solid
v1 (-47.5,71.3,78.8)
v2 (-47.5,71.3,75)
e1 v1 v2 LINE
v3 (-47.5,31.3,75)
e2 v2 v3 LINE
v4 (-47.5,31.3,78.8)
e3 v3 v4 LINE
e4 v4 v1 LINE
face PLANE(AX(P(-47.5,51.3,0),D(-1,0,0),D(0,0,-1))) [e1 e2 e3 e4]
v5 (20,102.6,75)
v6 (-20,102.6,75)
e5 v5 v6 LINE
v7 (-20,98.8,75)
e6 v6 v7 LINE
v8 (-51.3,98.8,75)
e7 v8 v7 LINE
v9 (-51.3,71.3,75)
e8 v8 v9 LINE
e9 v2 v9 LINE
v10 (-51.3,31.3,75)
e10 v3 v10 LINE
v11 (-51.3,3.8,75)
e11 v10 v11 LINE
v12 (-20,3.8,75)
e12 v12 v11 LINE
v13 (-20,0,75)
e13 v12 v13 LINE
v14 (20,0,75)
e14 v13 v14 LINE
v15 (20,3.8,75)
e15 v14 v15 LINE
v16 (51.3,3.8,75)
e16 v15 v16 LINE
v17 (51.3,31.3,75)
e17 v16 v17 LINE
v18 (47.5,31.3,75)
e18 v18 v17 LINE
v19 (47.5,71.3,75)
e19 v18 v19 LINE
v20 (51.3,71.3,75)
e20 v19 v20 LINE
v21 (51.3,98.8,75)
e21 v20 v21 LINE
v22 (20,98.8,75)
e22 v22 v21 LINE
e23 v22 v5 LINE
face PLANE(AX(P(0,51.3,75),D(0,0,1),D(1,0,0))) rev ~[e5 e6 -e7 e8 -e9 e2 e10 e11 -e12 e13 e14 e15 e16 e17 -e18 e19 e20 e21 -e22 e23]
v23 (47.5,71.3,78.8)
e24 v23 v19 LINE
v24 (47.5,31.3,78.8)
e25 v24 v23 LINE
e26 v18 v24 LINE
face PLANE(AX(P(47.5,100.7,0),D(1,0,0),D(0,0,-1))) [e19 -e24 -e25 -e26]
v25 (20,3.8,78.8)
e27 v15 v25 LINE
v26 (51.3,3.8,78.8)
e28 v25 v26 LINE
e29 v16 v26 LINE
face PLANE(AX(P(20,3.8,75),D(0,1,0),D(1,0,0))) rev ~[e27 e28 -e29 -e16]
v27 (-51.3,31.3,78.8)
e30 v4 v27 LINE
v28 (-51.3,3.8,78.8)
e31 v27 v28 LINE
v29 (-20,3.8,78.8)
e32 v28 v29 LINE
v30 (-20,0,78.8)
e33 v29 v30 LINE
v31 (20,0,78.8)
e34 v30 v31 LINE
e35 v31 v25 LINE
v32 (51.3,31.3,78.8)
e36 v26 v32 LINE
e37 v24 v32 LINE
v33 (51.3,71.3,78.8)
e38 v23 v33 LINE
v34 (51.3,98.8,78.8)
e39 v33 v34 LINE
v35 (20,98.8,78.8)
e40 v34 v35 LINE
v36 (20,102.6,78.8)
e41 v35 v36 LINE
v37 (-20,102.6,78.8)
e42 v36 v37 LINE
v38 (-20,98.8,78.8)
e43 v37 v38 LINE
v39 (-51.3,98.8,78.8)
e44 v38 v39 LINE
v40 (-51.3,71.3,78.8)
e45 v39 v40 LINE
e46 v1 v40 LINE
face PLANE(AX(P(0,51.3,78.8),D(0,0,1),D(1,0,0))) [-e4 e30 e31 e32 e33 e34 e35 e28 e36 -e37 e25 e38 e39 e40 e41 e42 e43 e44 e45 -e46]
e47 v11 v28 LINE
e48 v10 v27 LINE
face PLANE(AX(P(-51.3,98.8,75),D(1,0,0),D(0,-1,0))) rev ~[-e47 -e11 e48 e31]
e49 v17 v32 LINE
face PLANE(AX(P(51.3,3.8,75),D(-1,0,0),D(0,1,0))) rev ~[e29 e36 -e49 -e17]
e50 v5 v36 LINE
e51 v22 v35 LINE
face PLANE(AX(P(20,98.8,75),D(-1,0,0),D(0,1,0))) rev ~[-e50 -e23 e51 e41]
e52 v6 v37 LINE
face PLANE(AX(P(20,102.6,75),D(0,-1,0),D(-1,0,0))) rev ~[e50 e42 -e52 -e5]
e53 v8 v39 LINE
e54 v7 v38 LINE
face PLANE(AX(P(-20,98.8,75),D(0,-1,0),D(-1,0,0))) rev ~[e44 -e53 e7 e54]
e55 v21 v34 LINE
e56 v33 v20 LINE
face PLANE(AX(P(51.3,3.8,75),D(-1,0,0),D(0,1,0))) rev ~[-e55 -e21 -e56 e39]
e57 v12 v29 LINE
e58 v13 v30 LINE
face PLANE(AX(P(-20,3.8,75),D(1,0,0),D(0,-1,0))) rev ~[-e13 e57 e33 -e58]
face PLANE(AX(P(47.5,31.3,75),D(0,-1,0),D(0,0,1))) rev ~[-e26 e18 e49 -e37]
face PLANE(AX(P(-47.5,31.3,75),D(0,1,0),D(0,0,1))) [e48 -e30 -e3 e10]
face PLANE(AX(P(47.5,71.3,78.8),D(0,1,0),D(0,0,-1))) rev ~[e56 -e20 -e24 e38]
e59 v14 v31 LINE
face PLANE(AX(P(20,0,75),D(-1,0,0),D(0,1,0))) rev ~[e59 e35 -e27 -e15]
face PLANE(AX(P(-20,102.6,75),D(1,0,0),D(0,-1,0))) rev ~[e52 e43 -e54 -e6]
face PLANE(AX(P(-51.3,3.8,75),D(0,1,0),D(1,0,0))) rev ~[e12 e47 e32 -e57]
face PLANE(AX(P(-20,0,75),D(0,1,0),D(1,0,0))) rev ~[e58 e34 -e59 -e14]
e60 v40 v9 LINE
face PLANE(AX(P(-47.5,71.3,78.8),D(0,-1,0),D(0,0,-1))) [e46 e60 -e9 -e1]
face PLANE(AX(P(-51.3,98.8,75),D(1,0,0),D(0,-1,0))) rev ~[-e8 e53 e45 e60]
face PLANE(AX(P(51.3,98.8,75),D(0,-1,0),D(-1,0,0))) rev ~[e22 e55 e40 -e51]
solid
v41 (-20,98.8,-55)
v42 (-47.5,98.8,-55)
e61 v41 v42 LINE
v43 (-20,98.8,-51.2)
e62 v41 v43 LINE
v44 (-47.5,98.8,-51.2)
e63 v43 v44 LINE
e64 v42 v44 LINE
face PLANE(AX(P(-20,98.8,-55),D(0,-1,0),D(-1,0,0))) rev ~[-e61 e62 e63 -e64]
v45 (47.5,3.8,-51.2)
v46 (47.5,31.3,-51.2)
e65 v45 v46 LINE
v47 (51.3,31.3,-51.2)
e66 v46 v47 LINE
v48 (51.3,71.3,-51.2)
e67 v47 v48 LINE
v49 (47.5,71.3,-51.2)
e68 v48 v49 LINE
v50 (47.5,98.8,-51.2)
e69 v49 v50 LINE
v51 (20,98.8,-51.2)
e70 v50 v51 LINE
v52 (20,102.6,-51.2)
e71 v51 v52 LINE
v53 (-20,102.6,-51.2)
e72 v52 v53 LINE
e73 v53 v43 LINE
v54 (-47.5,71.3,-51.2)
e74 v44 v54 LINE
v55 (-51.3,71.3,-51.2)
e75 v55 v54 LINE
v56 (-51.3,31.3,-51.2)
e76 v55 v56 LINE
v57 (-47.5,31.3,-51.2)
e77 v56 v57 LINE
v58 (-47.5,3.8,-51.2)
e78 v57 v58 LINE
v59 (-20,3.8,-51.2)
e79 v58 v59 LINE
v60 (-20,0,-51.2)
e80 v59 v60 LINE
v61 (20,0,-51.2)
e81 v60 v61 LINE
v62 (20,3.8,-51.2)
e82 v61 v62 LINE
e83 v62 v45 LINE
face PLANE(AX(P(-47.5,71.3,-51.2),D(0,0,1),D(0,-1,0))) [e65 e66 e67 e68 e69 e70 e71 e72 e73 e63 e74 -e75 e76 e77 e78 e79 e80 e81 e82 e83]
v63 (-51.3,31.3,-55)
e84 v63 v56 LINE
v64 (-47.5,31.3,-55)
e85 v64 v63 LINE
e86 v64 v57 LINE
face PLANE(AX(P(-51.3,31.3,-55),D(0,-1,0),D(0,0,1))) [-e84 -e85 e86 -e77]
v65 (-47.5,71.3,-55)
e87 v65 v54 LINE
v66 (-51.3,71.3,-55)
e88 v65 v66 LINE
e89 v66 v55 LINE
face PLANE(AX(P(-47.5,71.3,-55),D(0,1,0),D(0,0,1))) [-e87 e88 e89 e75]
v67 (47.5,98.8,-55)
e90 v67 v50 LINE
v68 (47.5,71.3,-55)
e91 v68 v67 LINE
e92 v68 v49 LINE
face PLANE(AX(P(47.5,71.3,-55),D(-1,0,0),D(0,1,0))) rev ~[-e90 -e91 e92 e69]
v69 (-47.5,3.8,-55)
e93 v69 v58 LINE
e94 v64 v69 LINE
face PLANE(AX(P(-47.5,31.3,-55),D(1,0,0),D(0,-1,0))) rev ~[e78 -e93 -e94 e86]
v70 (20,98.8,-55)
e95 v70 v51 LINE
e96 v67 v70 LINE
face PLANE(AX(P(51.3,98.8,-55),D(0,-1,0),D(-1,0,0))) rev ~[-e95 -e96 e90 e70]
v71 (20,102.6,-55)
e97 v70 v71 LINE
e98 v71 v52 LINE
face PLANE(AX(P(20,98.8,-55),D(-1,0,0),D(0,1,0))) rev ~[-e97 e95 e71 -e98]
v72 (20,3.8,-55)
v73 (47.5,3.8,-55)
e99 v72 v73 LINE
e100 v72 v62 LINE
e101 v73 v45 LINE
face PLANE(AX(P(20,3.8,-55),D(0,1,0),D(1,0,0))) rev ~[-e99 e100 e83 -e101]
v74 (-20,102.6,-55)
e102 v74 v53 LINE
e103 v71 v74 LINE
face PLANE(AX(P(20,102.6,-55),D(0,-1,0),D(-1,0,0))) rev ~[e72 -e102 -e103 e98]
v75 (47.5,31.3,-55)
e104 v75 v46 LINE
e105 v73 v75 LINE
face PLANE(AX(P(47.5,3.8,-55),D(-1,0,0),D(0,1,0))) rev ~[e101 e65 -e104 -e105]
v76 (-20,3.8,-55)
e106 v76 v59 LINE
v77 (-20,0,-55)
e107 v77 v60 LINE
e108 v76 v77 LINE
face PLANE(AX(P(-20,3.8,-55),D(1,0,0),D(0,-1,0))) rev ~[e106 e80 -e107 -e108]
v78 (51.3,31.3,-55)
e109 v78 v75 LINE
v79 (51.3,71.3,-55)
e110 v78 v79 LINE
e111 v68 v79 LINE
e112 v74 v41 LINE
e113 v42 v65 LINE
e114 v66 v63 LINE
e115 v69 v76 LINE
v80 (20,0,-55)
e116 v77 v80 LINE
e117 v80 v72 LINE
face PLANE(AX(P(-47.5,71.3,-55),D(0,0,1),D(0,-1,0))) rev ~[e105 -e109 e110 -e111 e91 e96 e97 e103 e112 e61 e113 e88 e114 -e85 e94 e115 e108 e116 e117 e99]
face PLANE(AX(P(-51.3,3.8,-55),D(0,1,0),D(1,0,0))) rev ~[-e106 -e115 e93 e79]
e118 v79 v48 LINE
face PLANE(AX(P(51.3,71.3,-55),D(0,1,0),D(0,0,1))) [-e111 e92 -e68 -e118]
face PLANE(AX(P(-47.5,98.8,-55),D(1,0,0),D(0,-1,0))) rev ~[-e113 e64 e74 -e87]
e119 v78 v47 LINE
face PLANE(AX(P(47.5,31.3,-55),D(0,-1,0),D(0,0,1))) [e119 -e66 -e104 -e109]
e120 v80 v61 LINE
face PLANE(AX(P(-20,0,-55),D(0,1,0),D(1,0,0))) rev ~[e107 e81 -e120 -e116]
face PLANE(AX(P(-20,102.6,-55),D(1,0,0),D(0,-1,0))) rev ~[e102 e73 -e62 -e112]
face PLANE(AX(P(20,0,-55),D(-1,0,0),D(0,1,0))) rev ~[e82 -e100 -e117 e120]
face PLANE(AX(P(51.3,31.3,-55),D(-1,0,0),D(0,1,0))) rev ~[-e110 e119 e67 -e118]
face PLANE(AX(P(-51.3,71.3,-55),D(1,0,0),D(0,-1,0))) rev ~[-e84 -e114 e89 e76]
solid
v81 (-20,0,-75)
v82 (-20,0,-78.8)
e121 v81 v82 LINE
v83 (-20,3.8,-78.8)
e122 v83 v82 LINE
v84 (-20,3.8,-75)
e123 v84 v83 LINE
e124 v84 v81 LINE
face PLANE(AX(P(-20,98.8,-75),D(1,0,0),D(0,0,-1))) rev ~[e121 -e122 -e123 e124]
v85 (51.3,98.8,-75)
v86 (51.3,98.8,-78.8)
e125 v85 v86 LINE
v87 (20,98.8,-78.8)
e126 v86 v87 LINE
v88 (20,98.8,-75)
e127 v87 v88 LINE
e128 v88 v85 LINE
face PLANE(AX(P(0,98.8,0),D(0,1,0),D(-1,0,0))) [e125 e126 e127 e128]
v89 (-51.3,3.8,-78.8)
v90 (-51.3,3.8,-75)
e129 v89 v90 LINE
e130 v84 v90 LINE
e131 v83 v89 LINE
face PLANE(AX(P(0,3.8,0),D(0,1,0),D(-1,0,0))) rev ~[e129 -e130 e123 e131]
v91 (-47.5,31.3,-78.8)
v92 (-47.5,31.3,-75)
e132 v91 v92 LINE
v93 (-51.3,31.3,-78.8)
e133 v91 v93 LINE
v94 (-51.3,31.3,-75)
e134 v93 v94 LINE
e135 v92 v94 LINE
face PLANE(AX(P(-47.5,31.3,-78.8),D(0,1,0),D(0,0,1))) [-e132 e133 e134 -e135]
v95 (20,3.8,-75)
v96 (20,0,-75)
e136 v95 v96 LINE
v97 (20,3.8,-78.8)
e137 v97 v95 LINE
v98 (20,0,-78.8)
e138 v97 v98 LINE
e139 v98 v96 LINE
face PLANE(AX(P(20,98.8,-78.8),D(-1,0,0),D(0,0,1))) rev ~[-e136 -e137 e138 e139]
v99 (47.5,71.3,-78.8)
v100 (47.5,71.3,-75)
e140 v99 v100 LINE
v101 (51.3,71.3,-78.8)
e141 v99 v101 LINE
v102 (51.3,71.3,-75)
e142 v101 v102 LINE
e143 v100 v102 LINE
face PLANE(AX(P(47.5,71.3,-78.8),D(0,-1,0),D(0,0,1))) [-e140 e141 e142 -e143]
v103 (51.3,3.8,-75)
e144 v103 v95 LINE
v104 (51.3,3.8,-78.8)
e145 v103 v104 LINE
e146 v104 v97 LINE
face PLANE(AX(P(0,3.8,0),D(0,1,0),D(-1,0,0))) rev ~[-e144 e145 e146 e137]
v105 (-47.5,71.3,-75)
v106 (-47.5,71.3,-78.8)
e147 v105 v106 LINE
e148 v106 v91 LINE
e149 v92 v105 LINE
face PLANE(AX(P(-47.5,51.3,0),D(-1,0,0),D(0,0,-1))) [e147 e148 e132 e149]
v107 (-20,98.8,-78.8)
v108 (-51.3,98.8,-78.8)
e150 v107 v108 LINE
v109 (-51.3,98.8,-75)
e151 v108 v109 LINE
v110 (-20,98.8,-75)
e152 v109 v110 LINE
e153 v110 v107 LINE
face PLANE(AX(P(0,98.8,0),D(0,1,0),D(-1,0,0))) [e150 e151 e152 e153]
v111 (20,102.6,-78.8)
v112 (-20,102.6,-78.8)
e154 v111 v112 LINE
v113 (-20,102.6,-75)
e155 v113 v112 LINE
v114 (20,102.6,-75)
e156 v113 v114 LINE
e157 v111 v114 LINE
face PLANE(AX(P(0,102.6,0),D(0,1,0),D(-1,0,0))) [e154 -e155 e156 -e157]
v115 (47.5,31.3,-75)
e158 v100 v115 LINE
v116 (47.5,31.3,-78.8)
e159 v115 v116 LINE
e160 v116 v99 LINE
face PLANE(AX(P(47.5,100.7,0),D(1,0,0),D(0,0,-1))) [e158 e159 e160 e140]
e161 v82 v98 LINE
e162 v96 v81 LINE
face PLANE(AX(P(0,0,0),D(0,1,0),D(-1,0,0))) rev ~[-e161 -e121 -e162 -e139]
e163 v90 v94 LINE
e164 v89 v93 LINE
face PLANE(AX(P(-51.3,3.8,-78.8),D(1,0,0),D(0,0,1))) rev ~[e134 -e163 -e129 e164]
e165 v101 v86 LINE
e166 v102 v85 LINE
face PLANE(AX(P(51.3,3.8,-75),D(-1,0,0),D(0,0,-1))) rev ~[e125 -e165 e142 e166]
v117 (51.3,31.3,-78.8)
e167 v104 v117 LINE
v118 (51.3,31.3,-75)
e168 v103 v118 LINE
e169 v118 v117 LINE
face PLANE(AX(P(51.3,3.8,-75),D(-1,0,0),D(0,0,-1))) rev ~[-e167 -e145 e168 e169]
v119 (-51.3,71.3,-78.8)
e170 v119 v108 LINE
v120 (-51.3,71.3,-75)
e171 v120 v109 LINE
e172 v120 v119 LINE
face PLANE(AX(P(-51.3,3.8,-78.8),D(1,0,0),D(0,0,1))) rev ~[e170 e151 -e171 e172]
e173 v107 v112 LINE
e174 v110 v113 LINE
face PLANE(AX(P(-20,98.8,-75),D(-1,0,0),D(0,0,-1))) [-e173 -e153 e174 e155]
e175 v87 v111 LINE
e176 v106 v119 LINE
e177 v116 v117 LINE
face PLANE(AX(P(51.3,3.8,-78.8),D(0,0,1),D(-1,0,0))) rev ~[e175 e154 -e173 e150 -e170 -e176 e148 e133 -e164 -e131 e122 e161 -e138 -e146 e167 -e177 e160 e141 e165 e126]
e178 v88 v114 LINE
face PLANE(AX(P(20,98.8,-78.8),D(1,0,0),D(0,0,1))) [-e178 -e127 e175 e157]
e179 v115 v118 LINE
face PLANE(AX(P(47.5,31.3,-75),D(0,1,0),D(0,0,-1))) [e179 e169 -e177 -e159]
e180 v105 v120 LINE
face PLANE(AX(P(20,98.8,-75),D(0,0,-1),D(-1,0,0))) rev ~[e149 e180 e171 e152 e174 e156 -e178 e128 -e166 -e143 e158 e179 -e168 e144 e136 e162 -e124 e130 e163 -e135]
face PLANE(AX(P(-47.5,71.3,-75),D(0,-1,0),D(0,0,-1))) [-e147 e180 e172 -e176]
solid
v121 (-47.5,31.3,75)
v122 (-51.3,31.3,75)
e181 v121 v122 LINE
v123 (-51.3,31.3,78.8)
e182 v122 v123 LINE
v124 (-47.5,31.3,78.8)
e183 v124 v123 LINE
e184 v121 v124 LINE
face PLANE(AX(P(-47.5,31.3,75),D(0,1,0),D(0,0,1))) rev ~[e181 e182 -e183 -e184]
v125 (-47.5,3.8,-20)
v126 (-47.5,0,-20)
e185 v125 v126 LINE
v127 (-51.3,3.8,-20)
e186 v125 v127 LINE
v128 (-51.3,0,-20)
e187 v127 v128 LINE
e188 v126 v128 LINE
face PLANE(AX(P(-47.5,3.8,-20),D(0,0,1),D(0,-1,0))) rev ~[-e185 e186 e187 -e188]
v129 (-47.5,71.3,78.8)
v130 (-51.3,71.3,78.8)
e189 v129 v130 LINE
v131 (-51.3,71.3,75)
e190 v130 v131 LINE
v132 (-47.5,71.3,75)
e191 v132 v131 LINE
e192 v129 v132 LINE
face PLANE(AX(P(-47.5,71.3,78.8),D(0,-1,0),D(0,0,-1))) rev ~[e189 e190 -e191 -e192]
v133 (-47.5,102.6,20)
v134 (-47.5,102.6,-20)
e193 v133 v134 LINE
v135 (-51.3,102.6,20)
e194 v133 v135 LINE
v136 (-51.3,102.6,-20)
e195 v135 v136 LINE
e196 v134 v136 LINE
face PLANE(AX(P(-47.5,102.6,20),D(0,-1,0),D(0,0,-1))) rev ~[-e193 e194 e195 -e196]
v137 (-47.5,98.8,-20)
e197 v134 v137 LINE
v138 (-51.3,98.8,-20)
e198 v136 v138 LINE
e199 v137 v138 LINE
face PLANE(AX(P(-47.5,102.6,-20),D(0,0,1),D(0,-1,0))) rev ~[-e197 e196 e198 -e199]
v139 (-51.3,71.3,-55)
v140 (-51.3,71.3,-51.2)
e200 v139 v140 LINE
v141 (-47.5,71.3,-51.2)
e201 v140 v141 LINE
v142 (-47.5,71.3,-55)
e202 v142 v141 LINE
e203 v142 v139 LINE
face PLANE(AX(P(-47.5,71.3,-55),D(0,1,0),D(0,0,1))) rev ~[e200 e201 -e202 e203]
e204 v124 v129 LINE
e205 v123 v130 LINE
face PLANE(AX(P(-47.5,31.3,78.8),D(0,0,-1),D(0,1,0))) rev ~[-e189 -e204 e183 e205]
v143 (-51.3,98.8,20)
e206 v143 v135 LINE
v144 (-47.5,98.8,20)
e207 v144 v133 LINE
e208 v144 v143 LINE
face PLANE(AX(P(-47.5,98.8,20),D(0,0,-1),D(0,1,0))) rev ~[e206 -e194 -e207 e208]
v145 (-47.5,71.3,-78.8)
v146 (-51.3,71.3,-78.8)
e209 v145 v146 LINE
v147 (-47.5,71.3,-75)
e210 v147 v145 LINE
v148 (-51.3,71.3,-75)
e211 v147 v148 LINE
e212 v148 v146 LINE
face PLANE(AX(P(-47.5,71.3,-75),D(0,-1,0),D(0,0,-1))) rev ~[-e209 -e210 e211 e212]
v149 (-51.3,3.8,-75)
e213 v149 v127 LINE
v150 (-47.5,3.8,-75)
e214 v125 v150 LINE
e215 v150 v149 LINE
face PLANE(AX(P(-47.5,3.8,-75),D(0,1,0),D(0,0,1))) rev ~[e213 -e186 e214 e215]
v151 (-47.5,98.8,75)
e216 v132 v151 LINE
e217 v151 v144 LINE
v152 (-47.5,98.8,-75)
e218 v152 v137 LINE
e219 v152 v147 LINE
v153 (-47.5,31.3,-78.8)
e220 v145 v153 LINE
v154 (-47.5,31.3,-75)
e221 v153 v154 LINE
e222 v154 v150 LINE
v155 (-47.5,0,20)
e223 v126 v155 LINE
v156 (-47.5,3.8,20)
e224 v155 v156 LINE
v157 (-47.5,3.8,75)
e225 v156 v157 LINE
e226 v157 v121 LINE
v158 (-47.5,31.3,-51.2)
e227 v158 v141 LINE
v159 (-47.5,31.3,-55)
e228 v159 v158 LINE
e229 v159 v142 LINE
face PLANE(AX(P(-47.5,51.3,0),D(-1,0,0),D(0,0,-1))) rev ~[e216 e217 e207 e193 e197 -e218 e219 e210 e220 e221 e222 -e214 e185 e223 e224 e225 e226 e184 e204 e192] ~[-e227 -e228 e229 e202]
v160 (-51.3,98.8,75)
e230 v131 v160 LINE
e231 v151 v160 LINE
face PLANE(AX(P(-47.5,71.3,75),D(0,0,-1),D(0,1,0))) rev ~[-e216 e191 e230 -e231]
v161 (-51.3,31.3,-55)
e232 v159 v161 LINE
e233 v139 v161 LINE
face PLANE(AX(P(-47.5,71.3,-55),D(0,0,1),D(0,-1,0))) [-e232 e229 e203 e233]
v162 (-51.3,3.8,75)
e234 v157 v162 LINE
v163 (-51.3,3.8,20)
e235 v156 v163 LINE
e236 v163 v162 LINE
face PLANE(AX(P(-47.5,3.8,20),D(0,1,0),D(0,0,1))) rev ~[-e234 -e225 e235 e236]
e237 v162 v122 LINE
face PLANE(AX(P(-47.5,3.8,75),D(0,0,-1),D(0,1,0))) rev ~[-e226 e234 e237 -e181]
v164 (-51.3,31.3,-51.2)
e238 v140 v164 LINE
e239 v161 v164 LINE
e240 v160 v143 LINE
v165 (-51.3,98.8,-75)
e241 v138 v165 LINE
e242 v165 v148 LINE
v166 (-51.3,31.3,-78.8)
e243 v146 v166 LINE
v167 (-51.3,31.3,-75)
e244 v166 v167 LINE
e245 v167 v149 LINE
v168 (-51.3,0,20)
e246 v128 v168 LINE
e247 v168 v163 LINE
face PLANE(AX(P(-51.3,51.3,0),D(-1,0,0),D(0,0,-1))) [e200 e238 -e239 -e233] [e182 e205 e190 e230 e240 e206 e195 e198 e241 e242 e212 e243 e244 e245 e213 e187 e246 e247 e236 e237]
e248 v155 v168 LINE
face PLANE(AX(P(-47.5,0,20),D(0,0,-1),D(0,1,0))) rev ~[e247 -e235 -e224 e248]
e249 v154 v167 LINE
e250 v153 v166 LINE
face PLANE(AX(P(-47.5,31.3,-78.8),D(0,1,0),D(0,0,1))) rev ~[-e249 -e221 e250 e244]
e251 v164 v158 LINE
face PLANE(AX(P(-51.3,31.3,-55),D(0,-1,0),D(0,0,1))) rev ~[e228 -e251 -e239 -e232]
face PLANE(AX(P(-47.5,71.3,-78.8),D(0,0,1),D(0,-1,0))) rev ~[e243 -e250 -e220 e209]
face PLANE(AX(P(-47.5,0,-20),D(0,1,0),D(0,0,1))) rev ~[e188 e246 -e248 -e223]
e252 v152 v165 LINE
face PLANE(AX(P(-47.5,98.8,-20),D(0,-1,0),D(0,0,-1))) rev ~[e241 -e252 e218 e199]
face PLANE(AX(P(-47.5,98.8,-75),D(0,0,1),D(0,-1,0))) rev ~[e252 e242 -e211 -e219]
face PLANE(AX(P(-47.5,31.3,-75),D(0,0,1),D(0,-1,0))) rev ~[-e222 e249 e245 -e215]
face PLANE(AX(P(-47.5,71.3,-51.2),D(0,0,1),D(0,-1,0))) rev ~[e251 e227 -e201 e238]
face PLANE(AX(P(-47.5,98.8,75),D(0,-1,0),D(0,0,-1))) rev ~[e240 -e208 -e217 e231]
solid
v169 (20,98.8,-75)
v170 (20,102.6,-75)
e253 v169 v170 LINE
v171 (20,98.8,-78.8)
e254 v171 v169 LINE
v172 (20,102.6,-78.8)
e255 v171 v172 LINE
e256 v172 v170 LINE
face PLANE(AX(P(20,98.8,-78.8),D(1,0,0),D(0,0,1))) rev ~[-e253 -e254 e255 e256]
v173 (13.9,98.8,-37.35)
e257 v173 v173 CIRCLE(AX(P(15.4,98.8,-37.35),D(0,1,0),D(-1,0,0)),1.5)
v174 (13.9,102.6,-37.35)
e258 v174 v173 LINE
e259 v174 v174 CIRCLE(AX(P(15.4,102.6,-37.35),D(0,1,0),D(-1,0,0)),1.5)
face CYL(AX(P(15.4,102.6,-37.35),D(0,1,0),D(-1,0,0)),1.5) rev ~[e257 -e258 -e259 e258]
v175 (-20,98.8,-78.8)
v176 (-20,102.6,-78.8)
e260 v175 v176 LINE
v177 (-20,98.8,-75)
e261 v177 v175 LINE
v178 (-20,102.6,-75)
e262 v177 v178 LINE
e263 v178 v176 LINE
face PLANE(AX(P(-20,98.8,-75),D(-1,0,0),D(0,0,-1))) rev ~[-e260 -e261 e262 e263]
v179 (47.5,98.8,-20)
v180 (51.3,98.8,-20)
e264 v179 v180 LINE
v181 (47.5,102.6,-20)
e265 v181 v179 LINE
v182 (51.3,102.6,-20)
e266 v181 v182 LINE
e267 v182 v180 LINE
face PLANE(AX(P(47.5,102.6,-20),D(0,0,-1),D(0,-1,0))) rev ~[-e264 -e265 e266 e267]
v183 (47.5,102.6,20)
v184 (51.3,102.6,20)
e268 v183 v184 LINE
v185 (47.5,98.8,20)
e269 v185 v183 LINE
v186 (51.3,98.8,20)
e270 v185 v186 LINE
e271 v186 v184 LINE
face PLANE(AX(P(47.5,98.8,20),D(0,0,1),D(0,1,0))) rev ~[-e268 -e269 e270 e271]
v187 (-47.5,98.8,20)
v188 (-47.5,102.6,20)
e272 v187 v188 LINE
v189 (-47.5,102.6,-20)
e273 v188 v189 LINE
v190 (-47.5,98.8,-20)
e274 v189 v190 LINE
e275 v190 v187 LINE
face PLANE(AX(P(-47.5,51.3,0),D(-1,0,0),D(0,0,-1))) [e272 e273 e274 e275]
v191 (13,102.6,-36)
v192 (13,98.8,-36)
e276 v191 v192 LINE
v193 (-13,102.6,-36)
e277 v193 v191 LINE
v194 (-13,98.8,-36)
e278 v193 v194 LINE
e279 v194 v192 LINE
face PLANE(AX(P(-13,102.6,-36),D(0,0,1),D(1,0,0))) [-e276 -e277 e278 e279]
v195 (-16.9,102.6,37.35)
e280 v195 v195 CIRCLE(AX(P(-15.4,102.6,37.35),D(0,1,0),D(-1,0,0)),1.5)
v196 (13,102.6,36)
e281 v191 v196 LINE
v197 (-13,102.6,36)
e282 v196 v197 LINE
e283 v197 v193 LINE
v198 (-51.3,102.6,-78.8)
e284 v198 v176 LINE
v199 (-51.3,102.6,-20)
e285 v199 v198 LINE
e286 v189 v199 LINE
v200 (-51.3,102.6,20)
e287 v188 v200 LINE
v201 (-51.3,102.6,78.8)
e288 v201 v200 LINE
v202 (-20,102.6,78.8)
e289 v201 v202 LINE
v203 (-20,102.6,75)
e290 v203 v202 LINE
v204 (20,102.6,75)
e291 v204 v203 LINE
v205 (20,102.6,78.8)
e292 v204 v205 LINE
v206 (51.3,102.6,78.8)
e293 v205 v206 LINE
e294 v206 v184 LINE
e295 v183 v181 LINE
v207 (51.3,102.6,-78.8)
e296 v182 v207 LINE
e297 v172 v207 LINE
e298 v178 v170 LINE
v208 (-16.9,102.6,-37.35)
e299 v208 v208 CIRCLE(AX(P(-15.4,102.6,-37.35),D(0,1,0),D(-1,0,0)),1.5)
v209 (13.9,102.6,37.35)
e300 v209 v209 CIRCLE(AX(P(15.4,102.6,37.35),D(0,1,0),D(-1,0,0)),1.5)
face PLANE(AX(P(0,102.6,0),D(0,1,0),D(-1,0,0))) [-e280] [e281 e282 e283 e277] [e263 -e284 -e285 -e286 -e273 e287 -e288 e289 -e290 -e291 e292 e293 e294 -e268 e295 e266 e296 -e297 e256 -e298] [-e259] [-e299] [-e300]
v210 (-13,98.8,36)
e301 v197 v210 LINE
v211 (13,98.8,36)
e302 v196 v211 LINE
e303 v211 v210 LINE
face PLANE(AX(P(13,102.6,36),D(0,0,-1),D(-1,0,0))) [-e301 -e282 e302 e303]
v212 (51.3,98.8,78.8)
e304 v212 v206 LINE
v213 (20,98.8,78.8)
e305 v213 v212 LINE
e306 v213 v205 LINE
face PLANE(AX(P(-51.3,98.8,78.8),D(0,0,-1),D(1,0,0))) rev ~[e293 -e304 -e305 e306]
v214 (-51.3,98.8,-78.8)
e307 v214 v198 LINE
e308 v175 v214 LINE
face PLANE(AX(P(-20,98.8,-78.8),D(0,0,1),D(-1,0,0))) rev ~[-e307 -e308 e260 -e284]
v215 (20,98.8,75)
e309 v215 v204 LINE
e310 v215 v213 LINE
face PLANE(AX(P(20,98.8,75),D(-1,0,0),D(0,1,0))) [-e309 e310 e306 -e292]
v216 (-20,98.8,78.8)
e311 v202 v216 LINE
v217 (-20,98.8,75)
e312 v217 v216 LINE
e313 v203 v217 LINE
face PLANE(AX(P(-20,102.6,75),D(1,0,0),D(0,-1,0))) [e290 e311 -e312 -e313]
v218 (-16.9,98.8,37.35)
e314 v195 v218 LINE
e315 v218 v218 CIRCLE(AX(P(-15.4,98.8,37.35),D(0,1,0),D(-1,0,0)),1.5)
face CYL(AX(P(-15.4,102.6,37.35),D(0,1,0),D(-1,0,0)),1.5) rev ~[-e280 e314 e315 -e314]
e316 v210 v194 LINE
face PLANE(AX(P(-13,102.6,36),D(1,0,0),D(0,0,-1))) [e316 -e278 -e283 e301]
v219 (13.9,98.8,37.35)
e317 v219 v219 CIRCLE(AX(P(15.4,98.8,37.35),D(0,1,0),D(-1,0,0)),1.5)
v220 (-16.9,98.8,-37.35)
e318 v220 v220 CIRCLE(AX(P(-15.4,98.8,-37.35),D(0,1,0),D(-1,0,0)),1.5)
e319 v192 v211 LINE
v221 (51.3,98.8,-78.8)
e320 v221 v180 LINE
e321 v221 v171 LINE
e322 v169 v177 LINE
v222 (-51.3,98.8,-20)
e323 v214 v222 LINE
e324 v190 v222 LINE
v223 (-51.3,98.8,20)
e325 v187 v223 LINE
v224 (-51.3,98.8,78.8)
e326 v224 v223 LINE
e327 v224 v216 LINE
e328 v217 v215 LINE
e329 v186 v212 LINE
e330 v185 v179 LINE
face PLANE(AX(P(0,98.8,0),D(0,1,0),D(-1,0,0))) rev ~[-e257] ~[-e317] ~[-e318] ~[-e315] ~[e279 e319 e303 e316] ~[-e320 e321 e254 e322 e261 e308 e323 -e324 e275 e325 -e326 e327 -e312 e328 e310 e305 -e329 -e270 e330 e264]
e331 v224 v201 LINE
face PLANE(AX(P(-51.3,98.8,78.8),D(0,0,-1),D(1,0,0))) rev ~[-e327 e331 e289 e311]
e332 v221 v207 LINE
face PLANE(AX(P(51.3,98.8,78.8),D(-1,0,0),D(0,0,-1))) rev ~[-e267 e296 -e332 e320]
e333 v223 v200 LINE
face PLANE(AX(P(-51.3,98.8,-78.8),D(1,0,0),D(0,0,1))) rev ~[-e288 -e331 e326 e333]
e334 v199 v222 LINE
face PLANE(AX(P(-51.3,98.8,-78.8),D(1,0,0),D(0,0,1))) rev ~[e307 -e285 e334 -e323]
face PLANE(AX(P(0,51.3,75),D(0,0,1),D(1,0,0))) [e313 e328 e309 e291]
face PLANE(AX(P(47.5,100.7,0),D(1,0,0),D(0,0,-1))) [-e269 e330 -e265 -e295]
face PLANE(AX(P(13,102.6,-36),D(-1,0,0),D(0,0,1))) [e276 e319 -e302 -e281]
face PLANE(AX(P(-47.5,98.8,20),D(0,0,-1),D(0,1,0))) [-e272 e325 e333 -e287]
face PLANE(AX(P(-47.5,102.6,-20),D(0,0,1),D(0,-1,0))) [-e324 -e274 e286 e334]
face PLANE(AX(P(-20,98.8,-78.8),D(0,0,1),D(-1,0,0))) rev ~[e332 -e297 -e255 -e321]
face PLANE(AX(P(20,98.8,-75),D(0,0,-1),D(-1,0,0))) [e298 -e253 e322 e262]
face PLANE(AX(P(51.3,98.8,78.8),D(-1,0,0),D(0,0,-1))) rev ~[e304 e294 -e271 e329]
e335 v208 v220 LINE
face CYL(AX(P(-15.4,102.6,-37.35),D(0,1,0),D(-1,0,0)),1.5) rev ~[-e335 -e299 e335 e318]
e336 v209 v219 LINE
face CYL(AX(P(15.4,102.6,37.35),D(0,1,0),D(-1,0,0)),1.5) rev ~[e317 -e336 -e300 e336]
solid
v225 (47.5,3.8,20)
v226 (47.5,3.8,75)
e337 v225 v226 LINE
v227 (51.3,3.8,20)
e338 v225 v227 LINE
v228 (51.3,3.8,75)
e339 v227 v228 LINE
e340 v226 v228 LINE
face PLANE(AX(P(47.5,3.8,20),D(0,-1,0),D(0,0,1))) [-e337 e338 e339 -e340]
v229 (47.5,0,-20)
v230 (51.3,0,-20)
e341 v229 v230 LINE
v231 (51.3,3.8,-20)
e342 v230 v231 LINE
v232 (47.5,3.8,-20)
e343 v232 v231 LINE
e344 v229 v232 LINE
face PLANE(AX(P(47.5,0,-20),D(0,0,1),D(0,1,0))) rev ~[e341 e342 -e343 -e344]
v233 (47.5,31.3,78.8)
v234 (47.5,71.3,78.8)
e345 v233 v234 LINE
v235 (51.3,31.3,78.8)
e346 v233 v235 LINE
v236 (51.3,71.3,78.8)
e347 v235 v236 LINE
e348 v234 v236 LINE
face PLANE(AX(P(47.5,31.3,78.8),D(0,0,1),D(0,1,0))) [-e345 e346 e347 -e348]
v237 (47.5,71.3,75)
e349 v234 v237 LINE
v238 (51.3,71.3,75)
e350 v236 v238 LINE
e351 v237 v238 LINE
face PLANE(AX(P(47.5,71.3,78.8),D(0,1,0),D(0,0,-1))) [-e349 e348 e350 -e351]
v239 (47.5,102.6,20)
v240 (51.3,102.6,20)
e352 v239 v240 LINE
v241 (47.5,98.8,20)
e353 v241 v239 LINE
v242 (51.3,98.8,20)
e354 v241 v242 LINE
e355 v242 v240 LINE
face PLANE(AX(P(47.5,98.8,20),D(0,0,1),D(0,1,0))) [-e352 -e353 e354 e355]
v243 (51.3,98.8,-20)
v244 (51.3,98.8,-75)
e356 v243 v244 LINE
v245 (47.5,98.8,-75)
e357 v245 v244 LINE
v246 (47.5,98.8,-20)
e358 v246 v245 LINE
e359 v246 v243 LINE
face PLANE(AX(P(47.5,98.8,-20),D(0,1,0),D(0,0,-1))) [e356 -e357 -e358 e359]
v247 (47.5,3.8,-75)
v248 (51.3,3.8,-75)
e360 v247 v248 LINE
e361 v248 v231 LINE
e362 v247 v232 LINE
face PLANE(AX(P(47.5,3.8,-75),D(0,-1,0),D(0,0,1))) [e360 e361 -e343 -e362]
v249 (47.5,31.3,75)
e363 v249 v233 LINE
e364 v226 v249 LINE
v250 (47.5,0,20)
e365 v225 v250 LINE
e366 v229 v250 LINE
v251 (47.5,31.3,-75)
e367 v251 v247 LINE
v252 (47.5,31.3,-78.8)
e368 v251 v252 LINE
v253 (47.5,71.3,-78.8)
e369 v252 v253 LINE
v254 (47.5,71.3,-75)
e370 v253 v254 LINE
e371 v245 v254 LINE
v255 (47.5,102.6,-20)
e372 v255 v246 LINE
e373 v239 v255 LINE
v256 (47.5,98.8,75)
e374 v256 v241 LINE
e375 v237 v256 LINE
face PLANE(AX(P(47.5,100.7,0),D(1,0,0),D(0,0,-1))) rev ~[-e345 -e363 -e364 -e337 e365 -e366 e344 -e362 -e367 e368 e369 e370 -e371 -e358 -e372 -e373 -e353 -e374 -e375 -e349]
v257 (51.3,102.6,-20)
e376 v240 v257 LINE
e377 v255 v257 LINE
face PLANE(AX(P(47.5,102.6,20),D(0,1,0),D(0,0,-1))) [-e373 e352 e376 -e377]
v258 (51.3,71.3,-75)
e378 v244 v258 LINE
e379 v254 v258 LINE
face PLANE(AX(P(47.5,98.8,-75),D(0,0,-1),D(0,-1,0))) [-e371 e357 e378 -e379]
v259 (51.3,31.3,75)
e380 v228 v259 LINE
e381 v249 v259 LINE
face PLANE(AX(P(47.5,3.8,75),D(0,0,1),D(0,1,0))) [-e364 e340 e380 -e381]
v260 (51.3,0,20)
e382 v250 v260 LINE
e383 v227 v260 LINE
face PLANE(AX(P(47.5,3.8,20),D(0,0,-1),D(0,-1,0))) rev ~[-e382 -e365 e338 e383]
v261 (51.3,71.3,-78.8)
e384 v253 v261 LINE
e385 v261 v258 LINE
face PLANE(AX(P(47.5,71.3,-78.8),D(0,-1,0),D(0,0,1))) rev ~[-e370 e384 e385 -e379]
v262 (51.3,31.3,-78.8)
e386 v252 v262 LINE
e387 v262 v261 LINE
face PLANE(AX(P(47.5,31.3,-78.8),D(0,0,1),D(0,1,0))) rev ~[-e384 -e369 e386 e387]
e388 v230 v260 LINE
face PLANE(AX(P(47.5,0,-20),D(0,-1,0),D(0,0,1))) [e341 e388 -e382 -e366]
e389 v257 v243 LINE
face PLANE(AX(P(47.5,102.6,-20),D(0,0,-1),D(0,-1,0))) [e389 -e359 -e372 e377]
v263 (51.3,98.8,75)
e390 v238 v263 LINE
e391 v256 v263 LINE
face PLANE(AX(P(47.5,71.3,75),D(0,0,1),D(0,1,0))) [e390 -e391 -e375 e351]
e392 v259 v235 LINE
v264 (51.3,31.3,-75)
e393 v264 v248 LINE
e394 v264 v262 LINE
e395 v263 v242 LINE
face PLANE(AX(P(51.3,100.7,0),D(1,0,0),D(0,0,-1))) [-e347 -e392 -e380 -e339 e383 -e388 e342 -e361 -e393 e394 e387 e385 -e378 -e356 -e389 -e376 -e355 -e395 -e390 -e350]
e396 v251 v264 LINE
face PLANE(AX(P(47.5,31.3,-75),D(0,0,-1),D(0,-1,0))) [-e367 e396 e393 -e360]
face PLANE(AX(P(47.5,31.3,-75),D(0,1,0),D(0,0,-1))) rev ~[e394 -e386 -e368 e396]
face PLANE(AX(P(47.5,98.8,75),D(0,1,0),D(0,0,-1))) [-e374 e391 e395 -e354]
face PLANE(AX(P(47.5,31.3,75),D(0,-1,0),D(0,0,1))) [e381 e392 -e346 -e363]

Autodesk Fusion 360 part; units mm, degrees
sketch "Sketch1" plane through (0, 0, 0) normal (0, 1, 0) x (1, 0, 0)
  line L0 (-51.3, 78.8) -> (51.3, 78.8)
  line L1 (51.3, 78.8) -> (51.3, -78.8)
  line L2 (51.3, -78.8) -> (-51.3, -78.8)
  line L3 (-51.3, -78.8) -> (-51.3, 78.8)
  line L4 (-51.3, 78.8) -> (51.3, -78.8) construction
  line L5 (51.3, 78.8) -> (-51.3, -78.8) construction
  dimension "d1" = 157.6
  dimension "d2" = 102.6
extrude "Extrude1" add sketch "Sketch1" along normal blind 3.8 makes body 1
sketch "Sketch2" plane through (0, 3.8, 0) normal (0, 1, 0) x (-1, 0, 0)
  line L0 (51.3, 78.8) -> (-51.3, 78.8)
  line L1 (-51.3, 78.8) -> (-51.3, -78.8)
  line L2 (-51.3, -78.8) -> (51.3, -78.8)
  line L3 (51.3, -78.8) -> (51.3, 78.8)
  line L4 (51.3, -78.8) -> (-51.3, -78.8)
  line L5 (-51.3, -78.8) -> (-51.3, -75)
  line L6 (-51.3, -75) -> (51.3, -75)
  line L7 (51.3, -75) -> (51.3, -78.8)
  dimension "d5" = 3.8
  dimension "d6" = 102.6
extrude "Extrude2" add sketch "Sketch2" along normal blind 95 separate body contours L1 L2 L3 L4 L5 L6 L7 makes body 2
sketch "Sketch3" plane through (0, 98.8, 0) normal (0, 1, 0) x (-1, 0, 0)
  line L0 (51.3, -75) -> (-51.3, -75)
  line L1 (-51.3, -75) -> (-51.3, -78.8)
  line L2 (-51.3, -78.8) -> (51.3, -78.8)
  line L3 (51.3, -78.8) -> (51.3, -75)
  line L4 (20, -78.8) -> (20, -9.8696) construction
  line L5 (20, -78.8) -> (-20, -78.8)
  line L6 (-20, -78.8) -> (-20, -75)
  line L7 (-20, -75) -> (20, -75)
  line L8 (20, -75) -> (20, -78.8)
  dimension "d9" = 68.9304
  dimension "d10" = 20
  dimension "d11" = 3.8
  dimension "d12" = 40
extrude "Extrude3" add sketch "Sketch3" along normal blind 3.8 contours L0 L2 L5 L6 L7 L8 bodies 2
sketch "Sketch4" plane through (0, 98.8, 0) normal (0, 1, 0) x (-1, 0, 0)
  line L0 (20, -75) -> (20, -78.8)
  line L1 (20, -78.8) -> (51.3, -78.8)
  line L2 (51.3, -78.8) -> (51.3, -75)
  line L3 (51.3, -75) -> (20, -75)
  line L4 (20, -78.8) -> (20, -25.1124) construction
  line L5 (20, -78.8) -> (-20, -78.8)
  line L6 (-20, -78.8) -> (-20, -75)
  line L7 (-20, -75) -> (20, -75)
  line L8 (20, -75) -> (20, -78.8)
  dimension "d15" = 20
  dimension "d16" = 3.8
  dimension "d17" = 40
extrude "Extrude4" add sketch "Sketch4" against normal blind 98.8 contours L0 L5 L6 L7 L8 bodies 2
sketch "Sketch5" plane through (0, 98.8, 0) normal (0, 1, 0) x (-1, 0, 0)
  line L0 (20, -75) -> (20, -78.8)
  line L1 (20, -78.8) -> (51.3, -78.8)
  line L2 (51.3, -78.8) -> (51.3, -75)
  line L3 (51.3, -75) -> (20, -75)
  line L4 (51.3, 78.8) -> (-51.3, 78.8)
  line L5 (-51.3, 78.8) -> (-51.3, -78.8)
  line L6 (-51.3, -78.8) -> (51.3, -78.8)
  line L7 (51.3, -78.8) -> (51.3, 78.8)
extrude "Extrude5" add sketch "Sketch5" along normal blind 3.8 separate body makes body 3
ref_plane "WorkPlane1" through (0, 51.3, 75) normal (0, 0, 1) x (1, 0, 0)
sketch "Sketch6" plane through (0, 51.3, 75) normal (0, 0, 1) x (1, 0, 0)
  line L0 (20, -47.5) -> (51.3, -47.5)
  line L1 (51.3, -47.5) -> (51.3, 47.5)
  line L2 (51.3, 47.5) -> (20, 47.5)
  line L3 (20, 47.5) -> (20, 51.3)
  line L4 (20, 51.3) -> (-20, 51.3)
  line L5 (-20, 51.3) -> (-20, 47.5)
  line L6 (-20, 47.5) -> (-51.3, 47.5)
  line L7 (-51.3, 47.5) -> (-51.3, -47.5)
  line L8 (-51.3, -47.5) -> (-20, -47.5)
  line L9 (-20, -47.5) -> (-20, -51.3)
  line L10 (-20, -51.3) -> (20, -51.3)
  line L11 (20, -51.3) -> (20, -47.5)
extrude "Extrude6" add sketch "Sketch6" along normal blind 3.8 separate body makes body 4
ref_plane "WorkPlane2" through (47.5, 100.7, 0) normal (1, 0, 0) x (0, 0, -1)
sketch "Sketch7" plane through (47.5, 100.7, 0) normal (1, 0, 0) x (0, 0, -1)
  line L0 (-75, -1.9) -> (75, -1.9)
  line L1 (75, -1.9) -> (75, -96.9)
  line L2 (75, -96.9) -> (-75, -96.9)
  line L3 (-75, -96.9) -> (-75, -1.9)
  line L4 (-78.8, 1.9) -> (78.8, 1.9)
  line L5 (-20, 1.9) -> (20, 1.9)
  line L6 (20, 1.9) -> (20, -1.9)
  line L7 (20, -1.9) -> (-20, -1.9)
  line L8 (-20, -1.9) -> (-20, 1.9)
  line L9 (78.8, -100.7) -> (-78.8, -100.7)
  line L10 (-20, -100.7) -> (20, -100.7)
  line L11 (20, -100.7) -> (20, -96.9)
  line L12 (20, -96.9) -> (-20, -96.9)
  line L13 (-20, -96.9) -> (-20, -100.7)
  line L14 (-78.8, -96.9) -> (-78.8, -1.9)
  line L15 (78.8, -96.9) -> (78.8, -1.9)
  line L16 (78.8, -49.4) -> (-158.4491, -49.4) construction
  line L17 (-78.8, -29.4) -> (-75, -29.4)
  line L18 (-75, -29.4) -> (-75, -69.4)
  line L19 (-75, -69.4) -> (-78.8, -69.4)
  line L20 (-78.8, -69.4) -> (-78.8, -29.4)
  line L21 (78.8, -29.4) -> (75, -29.4)
  line L22 (75, -29.4) -> (75, -69.4)
  line L23 (75, -69.4) -> (78.8, -69.4)
  line L24 (78.8, -69.4) -> (78.8, -29.4)
  dimension "d26" = 20
  dimension "d27" = 40
  dimension "d28" = 20
  dimension "d29" = 40
  dimension "d30" = 20
  dimension "d31" = 40
  dimension "d32" = 20
  dimension "d33" = 40
extrude "Extrude7" add sketch "Sketch7" along normal blind 3.8 separate body makes body 5
ref_plane "WorkPlane3" through (-47.5, 51.3, 0) normal (-1, 0, 0) x (0, 0, 1)
sketch "Sketch8" plane through (-47.5, 51.3, 0) normal (-1, 0, 0) x (0, 0, -1)
  line L0 (78.8, 20) -> (75, 20)
  line L1 (75, 20) -> (75, 47.5)
  line L2 (75, 47.5) -> (20, 47.5)
  line L3 (20, 47.5) -> (20, 51.3)
  line L4 (20, 51.3) -> (-20, 51.3)
  line L5 (-20, 51.3) -> (-20, 47.5)
  line L6 (-20, 47.5) -> (-75, 47.5)
  line L7 (-75, 47.5) -> (-75, 20)
  line L8 (-75, 20) -> (-78.8, 20)
  line L9 (-78.8, 20) -> (-78.8, -20)
  line L10 (-78.8, -20) -> (-75, -20)
  line L11 (-75, -20) -> (-75, -47.5)
  line L12 (-75, -47.5) -> (-20, -47.5)
  line L13 (-20, -47.5) -> (-20, -51.3)
  line L14 (-20, -51.3) -> (20, -51.3)
  line L15 (20, -51.3) -> (20, -47.5)
  line L16 (20, -47.5) -> (75, -47.5)
  line L17 (75, -47.5) -> (75, -20)
  line L18 (75, -20) -> (78.8, -20)
  line L19 (78.8, -20) -> (78.8, 20)
extrude "Extrude8" add sketch "Sketch8" along normal blind 3.8 separate body makes body 6
combine "Combine1" operation cut target body 3 tool bodies 4 6 5 2 keep tools
combine "Combine2" operation cut target body 4 tool bodies 5 6 keep tools
combine "Combine3" operation cut target body 1 tool bodies 4 6 5 2 keep tools
combine "Combine4" operation cut target body 2 tool bodies 5 6 keep tools
sketch "Sketch9" plane through (0, 102.6, 0) normal (0, 1, 0) x (-1, 0, 0)
  line L0 (20, -75) -> (20, -78.8)
  line L1 (20, -78.8) -> (51.3, -78.8)
  line L2 (51.3, -78.8) -> (51.3, -20)
  line L3 (51.3, -20) -> (47.5, -20)
  line L4 (47.5, -20) -> (47.5, 20)
  line L5 (47.5, 20) -> (51.3, 20)
  line L6 (51.3, 20) -> (51.3, 78.8)
  line L7 (51.3, 78.8) -> (20, 78.8)
  line L8 (20, 78.8) -> (20, 75)
  line L9 (20, 75) -> (-20, 75)
  line L10 (-20, 75) -> (-20, 78.8)
  line L11 (-20, 78.8) -> (-51.3, 78.8)
  line L12 (-51.3, 78.8) -> (-51.3, 20)
  line L13 (-51.3, 20) -> (-47.5, 20)
  line L14 (-47.5, 20) -> (-47.5, -20)
  line L15 (-47.5, -20) -> (-51.3, -20)
  line L16 (-51.3, -20) -> (-51.3, -78.8)
  line L17 (-51.3, -78.8) -> (-20, -78.8)
  line L18 (-20, -78.8) -> (-20, -75)
  line L19 (-20, -75) -> (20, -75)
  line L20 (-17.9, -39.85) -> (17.9, -39.85) construction
  line L21 (17.9, -39.85) -> (17.9, 39.85) construction
  line L22 (17.9, 39.85) -> (-17.9, 39.85) construction
  line L23 (-17.9, 39.85) -> (-17.9, -39.85) construction
  line L24 (-17.9, -39.85) -> (17.9, 39.85) construction
  line L25 (17.9, -39.85) -> (-17.9, 39.85) construction
  line L26 (-15.4, -44.5115) -> (-15.4, 44.2981) construction
  line L27 (15.4, -43.2428) -> (15.4, 46.0743) construction
  line L28 (-22.3225, -37.35) -> (22.0823, -37.35) construction
  line L29 (-22.3225, 37.35) -> (26.6497, 37.35) construction
  circle A0 centre (-15.4, 37.35) radius 1.5
  circle A1 centre (15.4, 37.35) radius 1.5
  circle A2 centre (-15.4, -37.35) radius 1.5
  circle A3 centre (15.4, -37.35) radius 1.5
  line L30 (13, -36) -> (-13, -36)
  line L31 (-13, -36) -> (-13, 36)
  line L32 (-13, 36) -> (13, 36)
  line L33 (13, 36) -> (13, -36)
  line L34 (13, -36) -> (-13, 36) construction
  line L35 (-13, -36) -> (13, 36) construction
  dimension "d39" = 79.7
  dimension "d40" = 35.8
  dimension "d41" = 2.5
  dimension "d42" = 2.5
  dimension "d43" = 2.5
  dimension "d44" = 2.5
  dimension "d45" = 3
  dimension "d46" = 3
  dimension "d47" = 3
  dimension "d48" = 3
  dimension "d49" = 26
  dimension "d50" = 72
extrude "Extrude9" cut sketch "Sketch9" against normal blind 4 contours A0 | A1 | A2 | A3 | L30 L31 L32 L33 bodies 3
ref_plane "WorkPlane4" through (0, 51.3, -55) normal (0, 0, 1) x (1, 0, 0)
sketch "Sketch10" plane through (0, 51.3, -55) normal (0, 0, 1) x (1, 0, 0)
  line L0 (-47.5, 20) -> (-47.5, -20)
  line L1 (-47.5, -20) -> (-51.3, -20)
  line L2 (-51.3, -20) -> (-51.3, -47.5)
  line L3 (-51.3, -47.5) -> (-20, -47.5)
  line L4 (-20, -47.5) -> (-20, -51.3)
  line L5 (-20, -51.3) -> (20, -51.3)
  line L6 (20, -51.3) -> (20, -47.5)
  line L7 (20, -47.5) -> (51.3, -47.5)
  line L8 (51.3, -47.5) -> (51.3, -20)
  line L9 (51.3, -20) -> (47.5, -20)
  line L10 (47.5, -20) -> (47.5, 20)
  line L11 (47.5, 20) -> (51.3, 20)
  line L12 (51.3, 20) -> (51.3, 47.5)
  line L13 (51.3, 47.5) -> (20, 47.5)
  line L14 (20, 47.5) -> (20, 51.3)
  line L15 (20, 51.3) -> (-20, 51.3)
  line L16 (-20, 51.3) -> (-20, 47.5)
  line L17 (-20, 47.5) -> (-51.3, 47.5)
  line L18 (-51.3, 47.5) -> (-51.3, 20)
  line L19 (-51.3, 20) -> (-47.5, 20)
extrude "Extrude10" add sketch "Sketch10" along normal blind 3.8 separate body makes body 7
extrude "Extrude11" add 1 faces at (47.5, 44.6333, -53.7333) along direction (1, 0, 0) blind 7.6 on bodies 7 bodies 7
extrude "Extrude12" add 1 faces at (-47.5, 57.9667, -53.7333) along direction (-1, 0, 0) blind 7.6 on bodies 7 bodies 7
extrude "Extrude13" cut 2 faces at (51.3, 80.4667, -52.4667) (51.3, 12.9667, -52.4667) along direction (-1, 0, 0) blind 3.8 on bodies 7 bodies 7
extrude "Extrude14" cut 2 faces at (-51.3, 89.6333, -52.4667) (-51.3, 22.1333, -52.4667) along direction (1, 0, 0) blind 3.8 on bodies 7 bodies 7
extrude "Extrude15" cut 1 faces at (55.1, 44.6333, -53.7333) along direction (-1, 0, 0) blind 3.8 on bodies 7 bodies 7
extrude "Extrude16" cut 1 faces at (-55.1, 57.9667, -53.7333) along direction (1, 0, 0) blind 3.8 on bodies 7 bodies 7
combine "Combine5" operation cut target body 6 tool bodies 7 5 keep tools
hidden bodies 1
equation "d1 = ( 3.8 * 2 ) * 1 mm + 150 mm"
equation "d2 = 95 mm + 7.60 mm"
equation "d6 = 95 mm + 7.60 mm"
equation "d18 = -95 mm - 3.8 mm"
equation "d56 = ( 2 * 3.8 ) * 1 mm"
equation "d58 = 2 * 3.8000 mm"
